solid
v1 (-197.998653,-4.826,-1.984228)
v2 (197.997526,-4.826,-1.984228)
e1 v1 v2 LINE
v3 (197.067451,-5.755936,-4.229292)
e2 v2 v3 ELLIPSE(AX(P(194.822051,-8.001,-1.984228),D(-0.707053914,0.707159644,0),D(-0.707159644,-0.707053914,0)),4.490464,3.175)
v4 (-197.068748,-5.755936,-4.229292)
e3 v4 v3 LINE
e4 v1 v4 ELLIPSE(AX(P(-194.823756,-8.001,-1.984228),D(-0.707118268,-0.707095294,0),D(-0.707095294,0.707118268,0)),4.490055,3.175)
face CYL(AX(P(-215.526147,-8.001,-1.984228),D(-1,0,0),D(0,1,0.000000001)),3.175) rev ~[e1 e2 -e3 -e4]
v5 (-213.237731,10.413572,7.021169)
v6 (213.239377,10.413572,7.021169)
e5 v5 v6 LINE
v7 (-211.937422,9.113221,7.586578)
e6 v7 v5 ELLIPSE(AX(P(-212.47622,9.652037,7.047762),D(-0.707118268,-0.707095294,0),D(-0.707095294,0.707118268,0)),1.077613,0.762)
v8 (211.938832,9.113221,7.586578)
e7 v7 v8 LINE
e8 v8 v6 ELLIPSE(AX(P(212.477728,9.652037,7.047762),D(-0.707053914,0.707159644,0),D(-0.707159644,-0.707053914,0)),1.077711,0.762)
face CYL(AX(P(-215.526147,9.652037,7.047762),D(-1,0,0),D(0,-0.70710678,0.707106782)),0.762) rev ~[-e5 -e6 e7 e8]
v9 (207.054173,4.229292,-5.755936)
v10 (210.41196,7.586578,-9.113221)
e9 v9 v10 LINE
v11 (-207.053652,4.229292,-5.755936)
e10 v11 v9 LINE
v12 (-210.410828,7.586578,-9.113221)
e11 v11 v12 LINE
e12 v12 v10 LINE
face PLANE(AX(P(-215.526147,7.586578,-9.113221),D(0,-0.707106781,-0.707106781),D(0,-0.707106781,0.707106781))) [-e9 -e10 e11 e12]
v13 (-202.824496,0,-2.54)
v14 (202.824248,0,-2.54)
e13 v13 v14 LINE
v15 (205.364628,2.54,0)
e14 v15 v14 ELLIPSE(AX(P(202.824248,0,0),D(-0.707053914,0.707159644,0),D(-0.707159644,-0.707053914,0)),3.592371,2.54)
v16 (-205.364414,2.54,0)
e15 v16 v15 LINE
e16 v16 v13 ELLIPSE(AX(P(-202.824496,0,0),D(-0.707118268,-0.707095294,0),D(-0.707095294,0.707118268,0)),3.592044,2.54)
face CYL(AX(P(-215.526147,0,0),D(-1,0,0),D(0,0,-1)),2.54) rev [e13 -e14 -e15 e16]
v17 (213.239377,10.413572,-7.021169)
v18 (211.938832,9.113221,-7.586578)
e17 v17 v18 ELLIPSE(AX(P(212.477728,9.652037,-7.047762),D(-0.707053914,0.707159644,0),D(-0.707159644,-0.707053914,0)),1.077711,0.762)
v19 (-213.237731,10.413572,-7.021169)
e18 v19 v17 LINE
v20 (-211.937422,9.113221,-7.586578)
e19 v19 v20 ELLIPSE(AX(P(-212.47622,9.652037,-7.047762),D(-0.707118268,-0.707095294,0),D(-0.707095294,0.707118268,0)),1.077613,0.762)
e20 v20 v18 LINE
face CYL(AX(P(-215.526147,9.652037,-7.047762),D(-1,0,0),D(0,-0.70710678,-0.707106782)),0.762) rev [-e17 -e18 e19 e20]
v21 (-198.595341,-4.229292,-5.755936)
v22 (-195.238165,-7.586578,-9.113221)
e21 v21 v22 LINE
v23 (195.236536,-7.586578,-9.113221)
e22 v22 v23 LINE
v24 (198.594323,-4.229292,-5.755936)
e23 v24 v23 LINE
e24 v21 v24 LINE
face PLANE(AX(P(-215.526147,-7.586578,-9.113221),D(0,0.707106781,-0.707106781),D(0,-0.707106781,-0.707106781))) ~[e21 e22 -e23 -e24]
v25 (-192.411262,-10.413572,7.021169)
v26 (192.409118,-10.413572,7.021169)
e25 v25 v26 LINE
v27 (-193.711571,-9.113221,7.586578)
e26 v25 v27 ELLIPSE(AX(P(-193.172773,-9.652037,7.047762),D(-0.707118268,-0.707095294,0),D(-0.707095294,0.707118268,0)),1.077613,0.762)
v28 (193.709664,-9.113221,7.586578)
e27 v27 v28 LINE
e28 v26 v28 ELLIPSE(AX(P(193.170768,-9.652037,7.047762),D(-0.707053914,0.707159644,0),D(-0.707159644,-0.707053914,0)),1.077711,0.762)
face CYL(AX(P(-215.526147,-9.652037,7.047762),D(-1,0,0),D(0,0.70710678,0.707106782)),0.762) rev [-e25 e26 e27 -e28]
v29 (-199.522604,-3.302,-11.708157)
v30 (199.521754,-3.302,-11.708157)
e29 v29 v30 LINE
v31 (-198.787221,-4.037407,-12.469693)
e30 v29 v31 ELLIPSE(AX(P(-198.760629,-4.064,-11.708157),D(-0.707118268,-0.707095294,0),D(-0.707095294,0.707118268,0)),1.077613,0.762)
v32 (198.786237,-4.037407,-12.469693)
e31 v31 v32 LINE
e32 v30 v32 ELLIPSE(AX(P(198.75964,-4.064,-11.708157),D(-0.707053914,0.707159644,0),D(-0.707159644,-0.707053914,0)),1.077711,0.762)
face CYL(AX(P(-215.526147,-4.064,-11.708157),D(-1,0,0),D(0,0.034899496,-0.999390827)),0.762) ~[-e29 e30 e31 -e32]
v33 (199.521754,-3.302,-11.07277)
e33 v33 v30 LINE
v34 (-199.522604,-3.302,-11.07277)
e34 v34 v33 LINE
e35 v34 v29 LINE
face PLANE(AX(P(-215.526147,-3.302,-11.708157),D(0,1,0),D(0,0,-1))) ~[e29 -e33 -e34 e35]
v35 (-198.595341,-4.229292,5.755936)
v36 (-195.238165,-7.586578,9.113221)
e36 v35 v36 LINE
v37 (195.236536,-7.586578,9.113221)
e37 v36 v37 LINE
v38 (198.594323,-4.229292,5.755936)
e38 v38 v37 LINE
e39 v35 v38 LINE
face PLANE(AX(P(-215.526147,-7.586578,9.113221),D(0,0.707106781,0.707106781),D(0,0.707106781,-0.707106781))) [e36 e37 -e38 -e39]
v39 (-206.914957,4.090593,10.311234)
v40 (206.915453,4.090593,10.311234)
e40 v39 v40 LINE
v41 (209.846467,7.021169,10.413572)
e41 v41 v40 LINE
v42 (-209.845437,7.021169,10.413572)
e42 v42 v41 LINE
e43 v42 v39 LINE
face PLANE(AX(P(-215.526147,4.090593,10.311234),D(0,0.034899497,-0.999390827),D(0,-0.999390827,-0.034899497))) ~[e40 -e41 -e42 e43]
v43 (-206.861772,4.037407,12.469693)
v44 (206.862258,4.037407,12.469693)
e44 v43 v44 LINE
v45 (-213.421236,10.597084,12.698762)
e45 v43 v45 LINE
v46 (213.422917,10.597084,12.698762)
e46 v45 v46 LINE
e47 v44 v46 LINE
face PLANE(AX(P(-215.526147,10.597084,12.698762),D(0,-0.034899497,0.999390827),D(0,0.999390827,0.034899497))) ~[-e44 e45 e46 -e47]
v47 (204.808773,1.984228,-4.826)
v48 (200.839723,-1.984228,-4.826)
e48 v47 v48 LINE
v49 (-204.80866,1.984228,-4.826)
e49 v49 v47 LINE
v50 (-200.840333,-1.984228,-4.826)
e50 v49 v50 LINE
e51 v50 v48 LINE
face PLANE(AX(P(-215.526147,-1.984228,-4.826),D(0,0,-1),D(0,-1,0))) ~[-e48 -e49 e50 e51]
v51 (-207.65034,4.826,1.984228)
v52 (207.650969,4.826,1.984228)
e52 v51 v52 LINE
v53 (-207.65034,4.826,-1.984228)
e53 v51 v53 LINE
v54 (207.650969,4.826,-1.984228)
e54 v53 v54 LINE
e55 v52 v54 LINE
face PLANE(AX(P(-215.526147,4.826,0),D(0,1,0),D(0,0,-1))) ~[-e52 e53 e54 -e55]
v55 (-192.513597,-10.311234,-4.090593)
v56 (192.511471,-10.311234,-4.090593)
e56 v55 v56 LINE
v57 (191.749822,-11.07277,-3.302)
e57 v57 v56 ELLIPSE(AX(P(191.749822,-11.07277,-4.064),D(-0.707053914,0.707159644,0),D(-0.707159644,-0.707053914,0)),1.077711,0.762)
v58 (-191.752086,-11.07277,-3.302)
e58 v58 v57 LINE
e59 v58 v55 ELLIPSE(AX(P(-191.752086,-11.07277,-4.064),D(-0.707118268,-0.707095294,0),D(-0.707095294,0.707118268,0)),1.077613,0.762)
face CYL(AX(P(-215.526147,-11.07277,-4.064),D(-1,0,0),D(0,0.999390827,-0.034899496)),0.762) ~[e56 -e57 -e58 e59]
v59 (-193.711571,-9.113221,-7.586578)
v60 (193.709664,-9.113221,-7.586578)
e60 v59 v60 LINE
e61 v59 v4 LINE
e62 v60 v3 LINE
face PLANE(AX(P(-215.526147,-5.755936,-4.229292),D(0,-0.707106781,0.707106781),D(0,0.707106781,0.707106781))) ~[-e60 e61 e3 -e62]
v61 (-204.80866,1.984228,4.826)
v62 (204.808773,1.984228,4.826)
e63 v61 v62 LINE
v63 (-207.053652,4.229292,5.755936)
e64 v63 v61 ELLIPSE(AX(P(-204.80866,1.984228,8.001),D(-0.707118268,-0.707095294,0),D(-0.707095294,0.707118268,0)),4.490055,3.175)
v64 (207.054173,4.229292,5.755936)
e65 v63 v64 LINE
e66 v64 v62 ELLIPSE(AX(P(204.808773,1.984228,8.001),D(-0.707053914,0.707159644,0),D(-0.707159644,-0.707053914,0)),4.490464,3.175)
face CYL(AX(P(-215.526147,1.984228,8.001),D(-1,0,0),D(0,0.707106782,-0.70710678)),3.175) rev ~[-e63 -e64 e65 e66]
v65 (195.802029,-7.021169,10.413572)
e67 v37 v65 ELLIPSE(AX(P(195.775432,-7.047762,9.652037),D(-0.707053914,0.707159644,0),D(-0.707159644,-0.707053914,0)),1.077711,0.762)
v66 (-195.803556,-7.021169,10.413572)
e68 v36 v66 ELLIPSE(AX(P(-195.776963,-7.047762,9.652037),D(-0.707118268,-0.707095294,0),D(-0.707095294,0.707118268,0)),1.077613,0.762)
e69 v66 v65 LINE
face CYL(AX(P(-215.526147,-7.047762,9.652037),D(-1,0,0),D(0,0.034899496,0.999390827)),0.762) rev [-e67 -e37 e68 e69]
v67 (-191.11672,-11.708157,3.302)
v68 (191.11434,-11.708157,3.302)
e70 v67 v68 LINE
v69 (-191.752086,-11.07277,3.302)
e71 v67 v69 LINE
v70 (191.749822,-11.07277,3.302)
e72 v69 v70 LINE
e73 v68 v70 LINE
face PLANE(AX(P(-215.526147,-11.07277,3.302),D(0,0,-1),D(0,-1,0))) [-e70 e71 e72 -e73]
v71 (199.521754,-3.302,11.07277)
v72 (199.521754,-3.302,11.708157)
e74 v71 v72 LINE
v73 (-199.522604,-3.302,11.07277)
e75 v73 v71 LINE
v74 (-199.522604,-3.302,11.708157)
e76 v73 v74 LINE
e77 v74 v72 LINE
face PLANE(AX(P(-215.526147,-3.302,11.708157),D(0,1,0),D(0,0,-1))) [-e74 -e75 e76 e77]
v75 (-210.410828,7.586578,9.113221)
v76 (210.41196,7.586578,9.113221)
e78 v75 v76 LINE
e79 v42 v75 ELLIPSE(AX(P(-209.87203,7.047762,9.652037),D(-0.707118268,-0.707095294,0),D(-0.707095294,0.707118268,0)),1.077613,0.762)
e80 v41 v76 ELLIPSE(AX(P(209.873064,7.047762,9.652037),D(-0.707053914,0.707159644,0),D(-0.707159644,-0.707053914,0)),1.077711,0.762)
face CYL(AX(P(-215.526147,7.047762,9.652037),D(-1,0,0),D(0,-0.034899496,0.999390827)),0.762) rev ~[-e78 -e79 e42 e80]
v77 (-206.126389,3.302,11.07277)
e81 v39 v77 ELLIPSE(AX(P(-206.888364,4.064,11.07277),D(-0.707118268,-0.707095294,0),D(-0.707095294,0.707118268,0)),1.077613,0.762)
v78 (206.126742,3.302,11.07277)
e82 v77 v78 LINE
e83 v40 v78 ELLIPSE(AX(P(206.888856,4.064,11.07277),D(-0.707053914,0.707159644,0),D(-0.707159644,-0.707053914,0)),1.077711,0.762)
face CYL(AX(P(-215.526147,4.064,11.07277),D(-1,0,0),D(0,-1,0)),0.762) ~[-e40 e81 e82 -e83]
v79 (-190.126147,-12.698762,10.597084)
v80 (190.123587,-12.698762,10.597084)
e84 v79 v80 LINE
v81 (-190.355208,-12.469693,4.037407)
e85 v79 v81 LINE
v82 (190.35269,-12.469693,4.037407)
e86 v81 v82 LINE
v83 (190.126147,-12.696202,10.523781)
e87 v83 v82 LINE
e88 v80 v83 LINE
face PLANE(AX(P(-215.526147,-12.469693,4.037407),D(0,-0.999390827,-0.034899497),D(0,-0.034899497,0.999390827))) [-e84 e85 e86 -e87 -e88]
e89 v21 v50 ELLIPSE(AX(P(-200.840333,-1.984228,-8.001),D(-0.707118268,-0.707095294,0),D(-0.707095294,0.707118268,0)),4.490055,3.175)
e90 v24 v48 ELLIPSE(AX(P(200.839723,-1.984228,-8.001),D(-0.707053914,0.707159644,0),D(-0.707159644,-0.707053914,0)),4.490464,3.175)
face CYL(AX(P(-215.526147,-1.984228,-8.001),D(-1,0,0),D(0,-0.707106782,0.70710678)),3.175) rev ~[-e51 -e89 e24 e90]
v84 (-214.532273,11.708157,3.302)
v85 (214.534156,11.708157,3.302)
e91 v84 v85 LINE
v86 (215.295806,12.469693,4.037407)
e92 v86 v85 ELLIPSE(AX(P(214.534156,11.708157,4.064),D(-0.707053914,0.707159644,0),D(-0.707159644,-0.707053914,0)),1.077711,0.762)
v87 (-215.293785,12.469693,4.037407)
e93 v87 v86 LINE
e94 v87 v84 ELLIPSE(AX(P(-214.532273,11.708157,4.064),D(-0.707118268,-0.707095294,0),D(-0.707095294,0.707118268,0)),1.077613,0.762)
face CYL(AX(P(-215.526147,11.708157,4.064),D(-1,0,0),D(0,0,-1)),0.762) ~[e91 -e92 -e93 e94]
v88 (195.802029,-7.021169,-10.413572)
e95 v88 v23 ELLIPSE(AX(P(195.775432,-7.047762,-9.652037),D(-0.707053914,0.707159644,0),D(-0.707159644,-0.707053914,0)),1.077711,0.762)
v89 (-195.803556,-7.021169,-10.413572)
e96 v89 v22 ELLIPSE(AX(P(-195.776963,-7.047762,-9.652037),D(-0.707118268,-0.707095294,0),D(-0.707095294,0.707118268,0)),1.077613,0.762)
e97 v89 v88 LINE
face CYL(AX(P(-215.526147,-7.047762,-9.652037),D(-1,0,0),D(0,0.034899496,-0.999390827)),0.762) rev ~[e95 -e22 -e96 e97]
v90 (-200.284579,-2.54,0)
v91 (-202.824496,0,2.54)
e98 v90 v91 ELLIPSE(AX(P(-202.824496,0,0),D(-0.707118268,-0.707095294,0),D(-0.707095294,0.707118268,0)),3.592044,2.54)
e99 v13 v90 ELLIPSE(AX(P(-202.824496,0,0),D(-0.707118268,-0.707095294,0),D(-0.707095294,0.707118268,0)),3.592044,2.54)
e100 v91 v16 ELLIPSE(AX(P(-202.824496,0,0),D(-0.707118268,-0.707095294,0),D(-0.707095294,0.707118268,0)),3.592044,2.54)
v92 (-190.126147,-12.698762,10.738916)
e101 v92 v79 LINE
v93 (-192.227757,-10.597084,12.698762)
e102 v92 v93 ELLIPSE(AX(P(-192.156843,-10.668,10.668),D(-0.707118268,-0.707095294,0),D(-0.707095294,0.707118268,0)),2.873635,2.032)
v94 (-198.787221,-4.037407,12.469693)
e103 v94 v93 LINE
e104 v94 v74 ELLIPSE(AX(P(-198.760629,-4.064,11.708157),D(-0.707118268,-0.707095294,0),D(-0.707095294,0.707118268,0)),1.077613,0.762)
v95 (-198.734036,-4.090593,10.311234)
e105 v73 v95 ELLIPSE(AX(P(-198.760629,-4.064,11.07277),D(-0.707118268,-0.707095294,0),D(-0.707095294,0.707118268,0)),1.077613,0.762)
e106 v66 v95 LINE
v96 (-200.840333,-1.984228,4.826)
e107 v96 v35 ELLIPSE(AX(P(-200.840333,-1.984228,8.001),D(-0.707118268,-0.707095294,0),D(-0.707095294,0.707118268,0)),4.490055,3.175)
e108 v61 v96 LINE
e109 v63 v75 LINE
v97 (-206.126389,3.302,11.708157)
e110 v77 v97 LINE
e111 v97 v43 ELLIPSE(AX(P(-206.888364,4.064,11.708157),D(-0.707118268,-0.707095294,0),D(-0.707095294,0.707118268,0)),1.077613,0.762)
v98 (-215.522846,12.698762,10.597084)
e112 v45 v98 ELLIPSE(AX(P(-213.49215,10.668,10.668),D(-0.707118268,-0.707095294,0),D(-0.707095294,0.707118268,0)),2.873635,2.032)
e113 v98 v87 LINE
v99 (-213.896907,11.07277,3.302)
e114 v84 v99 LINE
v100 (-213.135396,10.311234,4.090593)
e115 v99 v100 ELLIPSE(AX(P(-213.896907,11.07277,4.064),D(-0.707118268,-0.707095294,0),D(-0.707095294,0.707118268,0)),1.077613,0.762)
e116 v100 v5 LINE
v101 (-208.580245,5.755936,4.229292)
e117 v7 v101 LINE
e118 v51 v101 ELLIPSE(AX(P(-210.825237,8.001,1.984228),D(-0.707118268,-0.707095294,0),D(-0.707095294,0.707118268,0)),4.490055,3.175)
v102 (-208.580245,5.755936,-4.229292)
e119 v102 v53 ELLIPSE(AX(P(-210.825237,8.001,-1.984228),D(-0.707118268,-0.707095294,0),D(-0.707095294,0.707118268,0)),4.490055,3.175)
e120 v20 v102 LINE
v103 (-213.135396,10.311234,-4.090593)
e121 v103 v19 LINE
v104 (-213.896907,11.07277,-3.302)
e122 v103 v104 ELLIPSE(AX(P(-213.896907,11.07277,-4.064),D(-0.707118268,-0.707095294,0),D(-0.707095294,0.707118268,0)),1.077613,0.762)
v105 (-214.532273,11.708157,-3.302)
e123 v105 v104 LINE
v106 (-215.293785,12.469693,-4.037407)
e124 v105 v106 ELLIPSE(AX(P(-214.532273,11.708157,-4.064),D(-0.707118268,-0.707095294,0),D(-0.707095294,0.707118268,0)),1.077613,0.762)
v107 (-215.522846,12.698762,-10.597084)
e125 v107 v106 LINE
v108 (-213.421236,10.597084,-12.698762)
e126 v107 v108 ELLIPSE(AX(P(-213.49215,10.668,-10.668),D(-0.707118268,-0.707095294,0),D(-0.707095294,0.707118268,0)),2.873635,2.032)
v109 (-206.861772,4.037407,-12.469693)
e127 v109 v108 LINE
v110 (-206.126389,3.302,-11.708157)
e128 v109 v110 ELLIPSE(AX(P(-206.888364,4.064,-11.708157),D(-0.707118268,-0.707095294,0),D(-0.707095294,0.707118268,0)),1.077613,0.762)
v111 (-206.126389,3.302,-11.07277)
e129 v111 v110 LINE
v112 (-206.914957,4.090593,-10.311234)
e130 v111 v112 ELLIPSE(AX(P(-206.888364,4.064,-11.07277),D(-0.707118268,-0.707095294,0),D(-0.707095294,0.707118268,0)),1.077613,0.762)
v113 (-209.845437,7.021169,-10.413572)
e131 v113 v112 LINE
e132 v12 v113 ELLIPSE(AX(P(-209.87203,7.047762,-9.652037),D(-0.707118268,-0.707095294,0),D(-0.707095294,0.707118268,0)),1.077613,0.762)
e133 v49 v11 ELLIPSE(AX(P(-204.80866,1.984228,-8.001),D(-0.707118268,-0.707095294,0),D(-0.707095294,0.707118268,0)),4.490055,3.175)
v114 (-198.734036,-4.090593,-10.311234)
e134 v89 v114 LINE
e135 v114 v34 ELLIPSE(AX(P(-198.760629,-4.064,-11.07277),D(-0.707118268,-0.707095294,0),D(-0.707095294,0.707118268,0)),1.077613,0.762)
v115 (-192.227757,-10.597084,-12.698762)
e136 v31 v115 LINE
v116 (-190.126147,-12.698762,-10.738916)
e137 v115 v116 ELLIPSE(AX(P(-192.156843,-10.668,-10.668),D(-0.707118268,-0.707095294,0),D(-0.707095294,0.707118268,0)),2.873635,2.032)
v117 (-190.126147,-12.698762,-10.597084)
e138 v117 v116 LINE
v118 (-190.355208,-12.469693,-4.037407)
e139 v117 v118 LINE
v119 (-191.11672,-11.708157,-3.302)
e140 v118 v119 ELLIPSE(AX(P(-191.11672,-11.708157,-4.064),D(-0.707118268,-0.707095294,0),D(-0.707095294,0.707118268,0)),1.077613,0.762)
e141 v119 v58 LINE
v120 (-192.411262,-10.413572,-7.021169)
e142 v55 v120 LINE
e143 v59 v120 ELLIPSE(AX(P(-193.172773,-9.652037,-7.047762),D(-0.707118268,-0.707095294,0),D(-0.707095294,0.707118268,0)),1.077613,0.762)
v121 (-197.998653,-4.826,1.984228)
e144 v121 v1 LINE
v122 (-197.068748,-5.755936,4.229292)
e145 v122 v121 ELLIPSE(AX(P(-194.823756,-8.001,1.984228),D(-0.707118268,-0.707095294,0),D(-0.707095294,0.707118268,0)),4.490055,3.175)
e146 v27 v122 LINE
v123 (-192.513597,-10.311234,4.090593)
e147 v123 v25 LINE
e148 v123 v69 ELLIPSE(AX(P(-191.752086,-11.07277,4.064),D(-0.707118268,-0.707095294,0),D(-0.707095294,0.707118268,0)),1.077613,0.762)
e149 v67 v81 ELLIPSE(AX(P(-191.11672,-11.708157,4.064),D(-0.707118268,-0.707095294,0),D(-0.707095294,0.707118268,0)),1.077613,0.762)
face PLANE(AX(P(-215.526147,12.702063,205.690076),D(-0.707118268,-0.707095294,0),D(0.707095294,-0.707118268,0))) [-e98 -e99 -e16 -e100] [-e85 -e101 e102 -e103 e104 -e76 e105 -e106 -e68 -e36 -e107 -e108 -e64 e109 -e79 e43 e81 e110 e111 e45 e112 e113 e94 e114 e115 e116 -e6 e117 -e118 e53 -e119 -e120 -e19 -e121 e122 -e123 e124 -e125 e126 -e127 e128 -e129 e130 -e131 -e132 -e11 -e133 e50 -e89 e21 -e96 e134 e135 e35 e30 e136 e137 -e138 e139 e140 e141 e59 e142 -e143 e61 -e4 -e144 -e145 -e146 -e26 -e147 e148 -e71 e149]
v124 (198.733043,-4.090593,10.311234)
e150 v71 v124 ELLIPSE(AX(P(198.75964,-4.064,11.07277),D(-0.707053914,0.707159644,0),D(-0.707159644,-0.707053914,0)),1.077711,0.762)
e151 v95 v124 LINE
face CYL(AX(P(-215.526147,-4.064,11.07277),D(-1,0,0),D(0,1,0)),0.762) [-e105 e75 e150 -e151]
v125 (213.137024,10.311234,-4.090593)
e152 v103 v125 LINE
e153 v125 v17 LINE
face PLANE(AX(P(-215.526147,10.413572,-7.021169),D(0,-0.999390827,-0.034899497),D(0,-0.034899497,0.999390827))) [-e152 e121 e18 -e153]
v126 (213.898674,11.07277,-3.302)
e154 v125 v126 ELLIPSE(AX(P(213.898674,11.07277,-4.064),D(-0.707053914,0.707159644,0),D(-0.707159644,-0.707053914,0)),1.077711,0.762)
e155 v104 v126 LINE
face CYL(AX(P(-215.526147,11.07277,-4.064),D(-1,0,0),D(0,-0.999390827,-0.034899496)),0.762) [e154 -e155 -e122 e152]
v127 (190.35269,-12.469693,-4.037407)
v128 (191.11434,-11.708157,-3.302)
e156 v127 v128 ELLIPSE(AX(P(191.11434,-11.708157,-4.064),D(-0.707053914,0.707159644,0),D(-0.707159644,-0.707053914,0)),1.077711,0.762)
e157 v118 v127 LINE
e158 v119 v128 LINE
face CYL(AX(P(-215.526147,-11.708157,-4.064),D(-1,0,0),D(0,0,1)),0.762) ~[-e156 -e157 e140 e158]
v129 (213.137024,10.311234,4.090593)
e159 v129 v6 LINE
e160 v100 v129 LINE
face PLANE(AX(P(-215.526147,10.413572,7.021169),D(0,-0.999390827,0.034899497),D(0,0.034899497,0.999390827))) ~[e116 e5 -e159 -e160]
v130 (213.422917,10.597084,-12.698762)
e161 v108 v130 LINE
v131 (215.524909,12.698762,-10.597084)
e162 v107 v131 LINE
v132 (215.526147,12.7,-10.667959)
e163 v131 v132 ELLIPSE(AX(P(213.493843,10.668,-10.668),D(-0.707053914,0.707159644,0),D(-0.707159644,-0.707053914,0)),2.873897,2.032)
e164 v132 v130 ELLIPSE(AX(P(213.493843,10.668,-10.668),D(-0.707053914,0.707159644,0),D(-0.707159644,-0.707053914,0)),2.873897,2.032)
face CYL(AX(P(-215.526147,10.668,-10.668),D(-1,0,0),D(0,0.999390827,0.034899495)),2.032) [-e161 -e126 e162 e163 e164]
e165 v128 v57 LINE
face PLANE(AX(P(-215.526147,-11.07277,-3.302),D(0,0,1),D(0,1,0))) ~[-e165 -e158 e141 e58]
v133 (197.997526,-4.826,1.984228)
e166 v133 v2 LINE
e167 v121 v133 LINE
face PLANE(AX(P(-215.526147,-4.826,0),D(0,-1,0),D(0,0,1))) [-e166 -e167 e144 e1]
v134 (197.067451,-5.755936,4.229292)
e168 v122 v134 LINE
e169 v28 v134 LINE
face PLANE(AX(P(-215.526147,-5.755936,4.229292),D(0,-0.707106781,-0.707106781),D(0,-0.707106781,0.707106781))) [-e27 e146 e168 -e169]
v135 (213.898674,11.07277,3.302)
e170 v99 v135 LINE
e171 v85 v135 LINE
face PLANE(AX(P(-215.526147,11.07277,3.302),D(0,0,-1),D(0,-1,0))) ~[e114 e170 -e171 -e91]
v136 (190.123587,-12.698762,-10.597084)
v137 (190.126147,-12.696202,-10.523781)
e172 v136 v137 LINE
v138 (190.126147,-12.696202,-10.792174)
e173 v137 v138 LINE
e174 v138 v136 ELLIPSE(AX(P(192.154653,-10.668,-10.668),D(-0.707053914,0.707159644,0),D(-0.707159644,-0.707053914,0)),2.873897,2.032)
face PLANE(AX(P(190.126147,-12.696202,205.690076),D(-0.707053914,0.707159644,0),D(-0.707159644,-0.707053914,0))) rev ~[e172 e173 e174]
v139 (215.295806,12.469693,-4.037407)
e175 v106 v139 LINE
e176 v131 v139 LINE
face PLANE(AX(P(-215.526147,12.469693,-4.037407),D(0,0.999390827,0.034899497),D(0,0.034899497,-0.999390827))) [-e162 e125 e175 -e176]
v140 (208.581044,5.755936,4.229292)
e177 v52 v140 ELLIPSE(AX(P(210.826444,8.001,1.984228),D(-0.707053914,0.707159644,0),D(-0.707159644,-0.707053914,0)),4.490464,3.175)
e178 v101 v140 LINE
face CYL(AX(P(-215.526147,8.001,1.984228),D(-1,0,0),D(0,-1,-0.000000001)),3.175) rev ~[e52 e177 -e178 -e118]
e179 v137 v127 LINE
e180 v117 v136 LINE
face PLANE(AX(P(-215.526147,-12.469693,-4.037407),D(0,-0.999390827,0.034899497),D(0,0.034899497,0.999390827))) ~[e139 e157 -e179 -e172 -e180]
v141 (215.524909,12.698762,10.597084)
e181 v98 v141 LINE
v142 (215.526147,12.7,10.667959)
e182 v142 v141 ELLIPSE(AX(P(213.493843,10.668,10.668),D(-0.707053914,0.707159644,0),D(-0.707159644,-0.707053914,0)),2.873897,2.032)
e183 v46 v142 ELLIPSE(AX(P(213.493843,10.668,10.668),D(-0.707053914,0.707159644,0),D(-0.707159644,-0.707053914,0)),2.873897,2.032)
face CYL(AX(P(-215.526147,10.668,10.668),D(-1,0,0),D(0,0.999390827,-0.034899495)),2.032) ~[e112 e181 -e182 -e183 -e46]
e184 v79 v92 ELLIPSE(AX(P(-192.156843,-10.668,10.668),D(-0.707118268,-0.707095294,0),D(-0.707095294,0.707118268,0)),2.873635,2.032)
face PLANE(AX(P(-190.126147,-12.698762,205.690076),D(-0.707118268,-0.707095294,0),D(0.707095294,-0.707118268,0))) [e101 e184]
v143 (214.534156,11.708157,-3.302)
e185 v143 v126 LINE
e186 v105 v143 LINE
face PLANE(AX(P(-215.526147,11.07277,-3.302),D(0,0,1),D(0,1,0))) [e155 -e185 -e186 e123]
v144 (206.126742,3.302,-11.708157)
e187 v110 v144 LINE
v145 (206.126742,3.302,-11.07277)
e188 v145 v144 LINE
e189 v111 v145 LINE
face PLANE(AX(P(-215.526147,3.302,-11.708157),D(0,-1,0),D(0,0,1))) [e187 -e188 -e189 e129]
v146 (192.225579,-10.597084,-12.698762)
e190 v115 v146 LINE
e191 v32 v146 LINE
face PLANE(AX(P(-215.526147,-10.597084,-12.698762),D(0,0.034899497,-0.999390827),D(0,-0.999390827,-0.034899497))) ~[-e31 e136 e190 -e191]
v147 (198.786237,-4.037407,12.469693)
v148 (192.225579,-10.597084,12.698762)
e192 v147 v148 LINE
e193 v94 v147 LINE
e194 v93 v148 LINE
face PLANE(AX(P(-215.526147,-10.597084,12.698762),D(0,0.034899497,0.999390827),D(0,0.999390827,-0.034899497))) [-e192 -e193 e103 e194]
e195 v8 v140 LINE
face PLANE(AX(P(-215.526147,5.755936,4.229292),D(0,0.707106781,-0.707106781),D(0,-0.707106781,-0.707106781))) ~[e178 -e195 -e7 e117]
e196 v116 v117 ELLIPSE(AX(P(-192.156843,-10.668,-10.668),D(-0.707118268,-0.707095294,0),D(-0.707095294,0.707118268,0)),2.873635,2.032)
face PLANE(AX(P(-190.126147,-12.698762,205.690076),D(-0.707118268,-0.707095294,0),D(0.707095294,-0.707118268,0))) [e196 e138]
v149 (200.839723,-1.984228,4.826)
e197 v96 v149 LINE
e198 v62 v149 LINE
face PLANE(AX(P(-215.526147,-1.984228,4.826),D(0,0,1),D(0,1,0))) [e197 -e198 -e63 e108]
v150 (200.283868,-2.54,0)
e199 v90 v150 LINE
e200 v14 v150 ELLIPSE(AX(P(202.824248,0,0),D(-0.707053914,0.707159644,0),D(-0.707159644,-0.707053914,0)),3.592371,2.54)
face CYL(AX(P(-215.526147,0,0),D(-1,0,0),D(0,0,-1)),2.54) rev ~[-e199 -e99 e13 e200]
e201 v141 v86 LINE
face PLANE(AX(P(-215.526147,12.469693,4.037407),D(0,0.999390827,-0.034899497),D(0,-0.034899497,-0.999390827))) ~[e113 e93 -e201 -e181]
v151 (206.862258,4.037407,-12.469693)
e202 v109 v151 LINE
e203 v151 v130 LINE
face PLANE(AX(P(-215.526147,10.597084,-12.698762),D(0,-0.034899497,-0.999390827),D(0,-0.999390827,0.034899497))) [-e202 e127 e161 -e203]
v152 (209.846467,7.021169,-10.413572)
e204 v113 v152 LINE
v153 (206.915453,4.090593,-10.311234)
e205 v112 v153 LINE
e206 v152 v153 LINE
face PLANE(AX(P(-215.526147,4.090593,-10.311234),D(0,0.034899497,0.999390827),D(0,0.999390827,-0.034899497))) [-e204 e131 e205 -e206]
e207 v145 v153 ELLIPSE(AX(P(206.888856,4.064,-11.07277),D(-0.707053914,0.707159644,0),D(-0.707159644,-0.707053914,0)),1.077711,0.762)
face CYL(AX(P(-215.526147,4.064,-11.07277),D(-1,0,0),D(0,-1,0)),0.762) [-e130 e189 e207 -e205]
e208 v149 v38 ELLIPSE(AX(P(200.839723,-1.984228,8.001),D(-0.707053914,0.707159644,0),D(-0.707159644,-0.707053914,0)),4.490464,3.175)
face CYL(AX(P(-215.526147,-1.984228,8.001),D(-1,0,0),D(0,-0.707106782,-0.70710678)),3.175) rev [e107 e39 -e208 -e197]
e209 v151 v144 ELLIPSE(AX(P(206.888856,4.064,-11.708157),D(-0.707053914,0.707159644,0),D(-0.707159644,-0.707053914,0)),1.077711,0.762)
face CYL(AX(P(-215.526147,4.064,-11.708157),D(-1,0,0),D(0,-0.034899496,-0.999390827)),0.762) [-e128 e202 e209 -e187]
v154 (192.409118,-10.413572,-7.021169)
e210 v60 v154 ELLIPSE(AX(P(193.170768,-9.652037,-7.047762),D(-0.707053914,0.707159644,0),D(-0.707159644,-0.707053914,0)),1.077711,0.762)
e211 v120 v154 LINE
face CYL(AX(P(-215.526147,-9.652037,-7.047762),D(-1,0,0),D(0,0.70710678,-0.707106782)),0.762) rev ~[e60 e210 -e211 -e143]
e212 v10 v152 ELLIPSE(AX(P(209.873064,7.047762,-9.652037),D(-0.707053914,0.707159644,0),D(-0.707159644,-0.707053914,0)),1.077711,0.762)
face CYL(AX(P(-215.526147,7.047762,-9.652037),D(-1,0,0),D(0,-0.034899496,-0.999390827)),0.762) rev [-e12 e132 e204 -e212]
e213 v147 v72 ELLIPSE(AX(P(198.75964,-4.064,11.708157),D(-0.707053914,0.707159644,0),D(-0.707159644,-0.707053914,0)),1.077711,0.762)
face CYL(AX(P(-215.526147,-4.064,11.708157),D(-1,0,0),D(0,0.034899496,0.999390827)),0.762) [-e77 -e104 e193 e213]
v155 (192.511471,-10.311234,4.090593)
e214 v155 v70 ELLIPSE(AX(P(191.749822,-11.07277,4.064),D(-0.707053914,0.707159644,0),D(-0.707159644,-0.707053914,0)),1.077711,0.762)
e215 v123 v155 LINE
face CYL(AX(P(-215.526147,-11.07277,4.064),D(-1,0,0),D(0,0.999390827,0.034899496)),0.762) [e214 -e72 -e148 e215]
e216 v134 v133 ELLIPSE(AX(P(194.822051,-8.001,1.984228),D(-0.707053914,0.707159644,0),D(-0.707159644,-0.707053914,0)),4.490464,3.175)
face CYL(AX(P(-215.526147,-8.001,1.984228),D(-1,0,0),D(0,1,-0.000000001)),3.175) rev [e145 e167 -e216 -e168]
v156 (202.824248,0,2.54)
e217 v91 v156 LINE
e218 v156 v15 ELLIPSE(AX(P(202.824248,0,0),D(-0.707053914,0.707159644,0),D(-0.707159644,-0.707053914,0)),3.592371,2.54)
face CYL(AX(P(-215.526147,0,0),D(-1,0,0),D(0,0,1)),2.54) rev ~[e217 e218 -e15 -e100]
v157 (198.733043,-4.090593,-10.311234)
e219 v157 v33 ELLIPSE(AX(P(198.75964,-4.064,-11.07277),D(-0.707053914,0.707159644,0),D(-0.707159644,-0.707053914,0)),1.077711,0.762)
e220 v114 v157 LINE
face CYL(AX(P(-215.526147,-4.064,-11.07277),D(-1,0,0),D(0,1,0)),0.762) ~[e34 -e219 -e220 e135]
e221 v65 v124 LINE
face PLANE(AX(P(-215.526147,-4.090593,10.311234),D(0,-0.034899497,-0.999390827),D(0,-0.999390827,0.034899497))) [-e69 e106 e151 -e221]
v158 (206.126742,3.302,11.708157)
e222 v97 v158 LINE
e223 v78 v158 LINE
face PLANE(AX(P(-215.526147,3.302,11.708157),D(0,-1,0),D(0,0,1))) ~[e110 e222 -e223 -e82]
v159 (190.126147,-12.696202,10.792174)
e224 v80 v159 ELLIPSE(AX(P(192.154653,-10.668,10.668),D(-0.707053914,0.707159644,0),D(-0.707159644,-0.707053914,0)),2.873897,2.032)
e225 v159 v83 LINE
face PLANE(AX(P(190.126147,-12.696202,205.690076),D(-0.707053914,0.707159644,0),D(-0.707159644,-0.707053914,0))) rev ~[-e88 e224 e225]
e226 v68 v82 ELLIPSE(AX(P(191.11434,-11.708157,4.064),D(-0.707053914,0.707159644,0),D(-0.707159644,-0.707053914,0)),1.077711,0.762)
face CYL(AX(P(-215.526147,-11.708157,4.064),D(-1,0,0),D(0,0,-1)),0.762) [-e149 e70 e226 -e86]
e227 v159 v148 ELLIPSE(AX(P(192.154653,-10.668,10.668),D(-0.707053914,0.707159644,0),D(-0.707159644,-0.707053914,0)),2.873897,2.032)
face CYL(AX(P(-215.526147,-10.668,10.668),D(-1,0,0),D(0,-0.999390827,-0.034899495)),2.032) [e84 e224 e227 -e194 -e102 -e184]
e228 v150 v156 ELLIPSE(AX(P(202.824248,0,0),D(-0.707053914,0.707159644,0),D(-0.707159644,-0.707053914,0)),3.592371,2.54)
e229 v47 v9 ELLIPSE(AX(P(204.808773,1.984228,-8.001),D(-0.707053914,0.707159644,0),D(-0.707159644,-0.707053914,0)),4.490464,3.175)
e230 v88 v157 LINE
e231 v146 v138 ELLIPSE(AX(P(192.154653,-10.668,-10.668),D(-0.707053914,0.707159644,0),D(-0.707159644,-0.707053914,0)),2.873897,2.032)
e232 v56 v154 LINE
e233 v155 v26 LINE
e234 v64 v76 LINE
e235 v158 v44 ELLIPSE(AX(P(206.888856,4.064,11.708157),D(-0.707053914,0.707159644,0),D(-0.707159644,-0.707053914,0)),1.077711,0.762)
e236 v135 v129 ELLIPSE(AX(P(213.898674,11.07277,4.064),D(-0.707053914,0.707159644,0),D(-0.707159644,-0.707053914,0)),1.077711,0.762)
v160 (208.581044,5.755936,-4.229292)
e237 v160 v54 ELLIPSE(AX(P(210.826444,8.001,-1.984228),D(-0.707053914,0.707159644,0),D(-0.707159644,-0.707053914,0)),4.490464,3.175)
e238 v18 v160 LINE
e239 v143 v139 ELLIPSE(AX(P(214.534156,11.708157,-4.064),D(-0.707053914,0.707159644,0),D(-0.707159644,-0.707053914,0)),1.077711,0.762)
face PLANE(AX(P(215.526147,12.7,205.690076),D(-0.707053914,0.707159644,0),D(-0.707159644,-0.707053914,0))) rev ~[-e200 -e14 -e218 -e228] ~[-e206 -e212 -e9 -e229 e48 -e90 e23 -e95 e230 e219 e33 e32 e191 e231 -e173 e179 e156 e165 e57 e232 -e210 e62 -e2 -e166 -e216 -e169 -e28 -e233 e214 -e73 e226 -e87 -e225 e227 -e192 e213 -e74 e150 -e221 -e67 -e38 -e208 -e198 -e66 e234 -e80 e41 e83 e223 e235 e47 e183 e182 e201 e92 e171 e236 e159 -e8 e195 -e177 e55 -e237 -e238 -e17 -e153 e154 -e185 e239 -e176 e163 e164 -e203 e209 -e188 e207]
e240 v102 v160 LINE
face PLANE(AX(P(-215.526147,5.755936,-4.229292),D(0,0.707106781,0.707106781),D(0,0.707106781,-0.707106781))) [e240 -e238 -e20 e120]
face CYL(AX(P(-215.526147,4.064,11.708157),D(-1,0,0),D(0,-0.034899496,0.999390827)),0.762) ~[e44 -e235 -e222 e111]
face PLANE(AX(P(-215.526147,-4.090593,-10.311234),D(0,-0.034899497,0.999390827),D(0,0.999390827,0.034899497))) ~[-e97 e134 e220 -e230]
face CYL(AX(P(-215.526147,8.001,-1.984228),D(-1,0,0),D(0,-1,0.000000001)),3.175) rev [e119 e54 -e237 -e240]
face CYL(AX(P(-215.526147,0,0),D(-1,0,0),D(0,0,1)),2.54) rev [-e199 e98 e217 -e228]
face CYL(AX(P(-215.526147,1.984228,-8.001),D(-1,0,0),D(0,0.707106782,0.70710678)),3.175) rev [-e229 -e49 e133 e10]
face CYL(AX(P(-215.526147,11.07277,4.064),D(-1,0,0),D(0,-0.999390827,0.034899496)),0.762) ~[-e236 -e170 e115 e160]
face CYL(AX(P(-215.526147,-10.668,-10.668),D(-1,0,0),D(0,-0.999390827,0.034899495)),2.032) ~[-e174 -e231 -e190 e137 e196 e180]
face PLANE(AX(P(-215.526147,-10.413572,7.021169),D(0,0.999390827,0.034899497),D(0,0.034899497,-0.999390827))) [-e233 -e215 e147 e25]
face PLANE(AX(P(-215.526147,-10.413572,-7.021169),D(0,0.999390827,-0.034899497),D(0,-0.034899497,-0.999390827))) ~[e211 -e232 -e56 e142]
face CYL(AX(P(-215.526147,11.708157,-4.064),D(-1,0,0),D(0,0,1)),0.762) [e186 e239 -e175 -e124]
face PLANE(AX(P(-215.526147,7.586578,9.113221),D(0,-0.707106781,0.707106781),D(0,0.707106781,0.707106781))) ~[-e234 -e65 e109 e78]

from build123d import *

# Parameters (mm, degrees)
BOSS_EXTRUDE1_DEPTH      = 215.526147
BOSS_EXTRUDE1_DEPTH_BACK = 215.526147
CUT_EXTRUDE2_DEPTH       = 218.388838628
CUT_EXTRUDE2_DEPTH_BACK  = 218.388838628
CUT_EXTRUDE3_DEPTH       = 218.388838628
CUT_EXTRUDE3_DEPTH_BACK  = 218.388838628


with BuildPart() as part:
    # Sketch3 → Boss-Extrude1 (new, two sides: drawn at the far end of the back side and taken through both)
    with BuildSketch(Plane(origin=(0, 0, 0), x_dir=(0, 0, -1), z_dir=(1, 0, 0)).offset(-BOSS_EXTRUDE1_DEPTH_BACK)):
        with BuildLine():
            Line((0, 4.826), (1.984228399, 4.826))
            ThreePointArc((1.984228399, 4.826), (3.199248297, 5.067682484), (4.229292429, 5.75593597))
            Line((4.229292429, 5.75593597), (7.586577723, 9.113221264))
            ThreePointArc((7.586577723, 9.113221264), (7.746562132, 9.955883421), (7.021168939, 10.413572441))
            Line((7.021168939, 10.413572441), (4.090593416, 10.311234489))
            ThreePointArc((4.090593416, 10.311234489), (3.534670322, 10.524633371), (3.302, 11.072770299))
            Line((3.302, 11.072770299), (3.302, 11.70815736))
            ThreePointArc((3.302, 11.70815736), (3.515863072, 12.237487038), (4.037406584, 12.46969317))
            Line((4.037406584, 12.46969317), (10.597084223, 12.698762161))
            ThreePointArc((10.597084223, 12.698762161), (12.104840979, 12.104840979), (12.698762161, 10.597084223))
            Line((12.698762161, 10.597084223), (12.46969317, 4.037406584))
            ThreePointArc((12.46969317, 4.037406584), (12.237487038, 3.515863072), (11.70815736, 3.302))
            Line((11.70815736, 3.302), (11.072770299, 3.302))
            ThreePointArc((11.072770299, 3.302), (10.524633371, 3.534670322), (10.311234489, 4.090593416))
            Line((10.311234489, 4.090593416), (10.413572441, 7.021168939))
            ThreePointArc((10.413572441, 7.021168939), (9.955883421, 7.746562132), (9.113221264, 7.586577723))
            Line((9.113221264, 7.586577723), (5.75593597, 4.229292429))
            ThreePointArc((5.75593597, 4.229292429), (5.067682484, 3.199248297), (4.826, 1.984228399))
            Line((4.826, 1.984228399), (4.826, 0))
            Line((4.826, 0), (2.54, 0))
            ThreePointArc((2.54, 0), (1.796051224, 1.796051224), (0, 2.54))
            Line((0, 2.54), (0, 4.826))
        make_face()
    extrude(amount=BOSS_EXTRUDE1_DEPTH + BOSS_EXTRUDE1_DEPTH_BACK)

    # Mirror1: part across plane


with BuildPart() as part_1:
    add(part.part)
    add(part.part.mirror(Plane.ZX))

    # Mirror2: part across plane


with BuildPart() as part_2:
    add(part_1.part)
    add(part_1.part.mirror(Plane.XY))

    # Sketch13 → Cut-Extrude2 (cut, two sides: drawn at the far end of the back side and taken through both)
    with BuildSketch(Plane(origin=(0, 0, -12.698762161), x_dir=(-1, 0, 0), z_dir=(0, 0, -1)).offset(-CUT_EXTRUDE2_DEPTH_BACK)):
        Polygon((-833.300812031, 630.382299777), (-215.526146906, 12.7), (-190.126146906, -12.69620237), (427.64851822, -630.378502147), (-807.716081334, -1865.927832398), (-2068.665411586, -605.167030474), align=None)
    extrude(amount=CUT_EXTRUDE2_DEPTH + CUT_EXTRUDE2_DEPTH_BACK, mode=Mode.SUBTRACT)

    # Sketch16 → Cut-Extrude3 (cut, two sides: drawn at the far end of the back side and taken through both)
    with BuildSketch(Plane(origin=(0, 0, -12.698762161), x_dir=(-1, 0, 0), z_dir=(0, 0, -1)).offset(-CUT_EXTRUDE3_DEPTH_BACK)):
        Polygon((215.526146906, -886.298616536), (215.526146906, -12.698762161), (215.526146906, 12.702063115), (190.126146906, -12.698762161), (-427.592198896, -630.437178341), (-1073.468846893, -2253.87494365), (-430.350501092, -2509.736381844), align=None)
    extrude(amount=CUT_EXTRUDE3_DEPTH + CUT_EXTRUDE3_DEPTH_BACK, mode=Mode.SUBTRACT)


solid = part_2.part
